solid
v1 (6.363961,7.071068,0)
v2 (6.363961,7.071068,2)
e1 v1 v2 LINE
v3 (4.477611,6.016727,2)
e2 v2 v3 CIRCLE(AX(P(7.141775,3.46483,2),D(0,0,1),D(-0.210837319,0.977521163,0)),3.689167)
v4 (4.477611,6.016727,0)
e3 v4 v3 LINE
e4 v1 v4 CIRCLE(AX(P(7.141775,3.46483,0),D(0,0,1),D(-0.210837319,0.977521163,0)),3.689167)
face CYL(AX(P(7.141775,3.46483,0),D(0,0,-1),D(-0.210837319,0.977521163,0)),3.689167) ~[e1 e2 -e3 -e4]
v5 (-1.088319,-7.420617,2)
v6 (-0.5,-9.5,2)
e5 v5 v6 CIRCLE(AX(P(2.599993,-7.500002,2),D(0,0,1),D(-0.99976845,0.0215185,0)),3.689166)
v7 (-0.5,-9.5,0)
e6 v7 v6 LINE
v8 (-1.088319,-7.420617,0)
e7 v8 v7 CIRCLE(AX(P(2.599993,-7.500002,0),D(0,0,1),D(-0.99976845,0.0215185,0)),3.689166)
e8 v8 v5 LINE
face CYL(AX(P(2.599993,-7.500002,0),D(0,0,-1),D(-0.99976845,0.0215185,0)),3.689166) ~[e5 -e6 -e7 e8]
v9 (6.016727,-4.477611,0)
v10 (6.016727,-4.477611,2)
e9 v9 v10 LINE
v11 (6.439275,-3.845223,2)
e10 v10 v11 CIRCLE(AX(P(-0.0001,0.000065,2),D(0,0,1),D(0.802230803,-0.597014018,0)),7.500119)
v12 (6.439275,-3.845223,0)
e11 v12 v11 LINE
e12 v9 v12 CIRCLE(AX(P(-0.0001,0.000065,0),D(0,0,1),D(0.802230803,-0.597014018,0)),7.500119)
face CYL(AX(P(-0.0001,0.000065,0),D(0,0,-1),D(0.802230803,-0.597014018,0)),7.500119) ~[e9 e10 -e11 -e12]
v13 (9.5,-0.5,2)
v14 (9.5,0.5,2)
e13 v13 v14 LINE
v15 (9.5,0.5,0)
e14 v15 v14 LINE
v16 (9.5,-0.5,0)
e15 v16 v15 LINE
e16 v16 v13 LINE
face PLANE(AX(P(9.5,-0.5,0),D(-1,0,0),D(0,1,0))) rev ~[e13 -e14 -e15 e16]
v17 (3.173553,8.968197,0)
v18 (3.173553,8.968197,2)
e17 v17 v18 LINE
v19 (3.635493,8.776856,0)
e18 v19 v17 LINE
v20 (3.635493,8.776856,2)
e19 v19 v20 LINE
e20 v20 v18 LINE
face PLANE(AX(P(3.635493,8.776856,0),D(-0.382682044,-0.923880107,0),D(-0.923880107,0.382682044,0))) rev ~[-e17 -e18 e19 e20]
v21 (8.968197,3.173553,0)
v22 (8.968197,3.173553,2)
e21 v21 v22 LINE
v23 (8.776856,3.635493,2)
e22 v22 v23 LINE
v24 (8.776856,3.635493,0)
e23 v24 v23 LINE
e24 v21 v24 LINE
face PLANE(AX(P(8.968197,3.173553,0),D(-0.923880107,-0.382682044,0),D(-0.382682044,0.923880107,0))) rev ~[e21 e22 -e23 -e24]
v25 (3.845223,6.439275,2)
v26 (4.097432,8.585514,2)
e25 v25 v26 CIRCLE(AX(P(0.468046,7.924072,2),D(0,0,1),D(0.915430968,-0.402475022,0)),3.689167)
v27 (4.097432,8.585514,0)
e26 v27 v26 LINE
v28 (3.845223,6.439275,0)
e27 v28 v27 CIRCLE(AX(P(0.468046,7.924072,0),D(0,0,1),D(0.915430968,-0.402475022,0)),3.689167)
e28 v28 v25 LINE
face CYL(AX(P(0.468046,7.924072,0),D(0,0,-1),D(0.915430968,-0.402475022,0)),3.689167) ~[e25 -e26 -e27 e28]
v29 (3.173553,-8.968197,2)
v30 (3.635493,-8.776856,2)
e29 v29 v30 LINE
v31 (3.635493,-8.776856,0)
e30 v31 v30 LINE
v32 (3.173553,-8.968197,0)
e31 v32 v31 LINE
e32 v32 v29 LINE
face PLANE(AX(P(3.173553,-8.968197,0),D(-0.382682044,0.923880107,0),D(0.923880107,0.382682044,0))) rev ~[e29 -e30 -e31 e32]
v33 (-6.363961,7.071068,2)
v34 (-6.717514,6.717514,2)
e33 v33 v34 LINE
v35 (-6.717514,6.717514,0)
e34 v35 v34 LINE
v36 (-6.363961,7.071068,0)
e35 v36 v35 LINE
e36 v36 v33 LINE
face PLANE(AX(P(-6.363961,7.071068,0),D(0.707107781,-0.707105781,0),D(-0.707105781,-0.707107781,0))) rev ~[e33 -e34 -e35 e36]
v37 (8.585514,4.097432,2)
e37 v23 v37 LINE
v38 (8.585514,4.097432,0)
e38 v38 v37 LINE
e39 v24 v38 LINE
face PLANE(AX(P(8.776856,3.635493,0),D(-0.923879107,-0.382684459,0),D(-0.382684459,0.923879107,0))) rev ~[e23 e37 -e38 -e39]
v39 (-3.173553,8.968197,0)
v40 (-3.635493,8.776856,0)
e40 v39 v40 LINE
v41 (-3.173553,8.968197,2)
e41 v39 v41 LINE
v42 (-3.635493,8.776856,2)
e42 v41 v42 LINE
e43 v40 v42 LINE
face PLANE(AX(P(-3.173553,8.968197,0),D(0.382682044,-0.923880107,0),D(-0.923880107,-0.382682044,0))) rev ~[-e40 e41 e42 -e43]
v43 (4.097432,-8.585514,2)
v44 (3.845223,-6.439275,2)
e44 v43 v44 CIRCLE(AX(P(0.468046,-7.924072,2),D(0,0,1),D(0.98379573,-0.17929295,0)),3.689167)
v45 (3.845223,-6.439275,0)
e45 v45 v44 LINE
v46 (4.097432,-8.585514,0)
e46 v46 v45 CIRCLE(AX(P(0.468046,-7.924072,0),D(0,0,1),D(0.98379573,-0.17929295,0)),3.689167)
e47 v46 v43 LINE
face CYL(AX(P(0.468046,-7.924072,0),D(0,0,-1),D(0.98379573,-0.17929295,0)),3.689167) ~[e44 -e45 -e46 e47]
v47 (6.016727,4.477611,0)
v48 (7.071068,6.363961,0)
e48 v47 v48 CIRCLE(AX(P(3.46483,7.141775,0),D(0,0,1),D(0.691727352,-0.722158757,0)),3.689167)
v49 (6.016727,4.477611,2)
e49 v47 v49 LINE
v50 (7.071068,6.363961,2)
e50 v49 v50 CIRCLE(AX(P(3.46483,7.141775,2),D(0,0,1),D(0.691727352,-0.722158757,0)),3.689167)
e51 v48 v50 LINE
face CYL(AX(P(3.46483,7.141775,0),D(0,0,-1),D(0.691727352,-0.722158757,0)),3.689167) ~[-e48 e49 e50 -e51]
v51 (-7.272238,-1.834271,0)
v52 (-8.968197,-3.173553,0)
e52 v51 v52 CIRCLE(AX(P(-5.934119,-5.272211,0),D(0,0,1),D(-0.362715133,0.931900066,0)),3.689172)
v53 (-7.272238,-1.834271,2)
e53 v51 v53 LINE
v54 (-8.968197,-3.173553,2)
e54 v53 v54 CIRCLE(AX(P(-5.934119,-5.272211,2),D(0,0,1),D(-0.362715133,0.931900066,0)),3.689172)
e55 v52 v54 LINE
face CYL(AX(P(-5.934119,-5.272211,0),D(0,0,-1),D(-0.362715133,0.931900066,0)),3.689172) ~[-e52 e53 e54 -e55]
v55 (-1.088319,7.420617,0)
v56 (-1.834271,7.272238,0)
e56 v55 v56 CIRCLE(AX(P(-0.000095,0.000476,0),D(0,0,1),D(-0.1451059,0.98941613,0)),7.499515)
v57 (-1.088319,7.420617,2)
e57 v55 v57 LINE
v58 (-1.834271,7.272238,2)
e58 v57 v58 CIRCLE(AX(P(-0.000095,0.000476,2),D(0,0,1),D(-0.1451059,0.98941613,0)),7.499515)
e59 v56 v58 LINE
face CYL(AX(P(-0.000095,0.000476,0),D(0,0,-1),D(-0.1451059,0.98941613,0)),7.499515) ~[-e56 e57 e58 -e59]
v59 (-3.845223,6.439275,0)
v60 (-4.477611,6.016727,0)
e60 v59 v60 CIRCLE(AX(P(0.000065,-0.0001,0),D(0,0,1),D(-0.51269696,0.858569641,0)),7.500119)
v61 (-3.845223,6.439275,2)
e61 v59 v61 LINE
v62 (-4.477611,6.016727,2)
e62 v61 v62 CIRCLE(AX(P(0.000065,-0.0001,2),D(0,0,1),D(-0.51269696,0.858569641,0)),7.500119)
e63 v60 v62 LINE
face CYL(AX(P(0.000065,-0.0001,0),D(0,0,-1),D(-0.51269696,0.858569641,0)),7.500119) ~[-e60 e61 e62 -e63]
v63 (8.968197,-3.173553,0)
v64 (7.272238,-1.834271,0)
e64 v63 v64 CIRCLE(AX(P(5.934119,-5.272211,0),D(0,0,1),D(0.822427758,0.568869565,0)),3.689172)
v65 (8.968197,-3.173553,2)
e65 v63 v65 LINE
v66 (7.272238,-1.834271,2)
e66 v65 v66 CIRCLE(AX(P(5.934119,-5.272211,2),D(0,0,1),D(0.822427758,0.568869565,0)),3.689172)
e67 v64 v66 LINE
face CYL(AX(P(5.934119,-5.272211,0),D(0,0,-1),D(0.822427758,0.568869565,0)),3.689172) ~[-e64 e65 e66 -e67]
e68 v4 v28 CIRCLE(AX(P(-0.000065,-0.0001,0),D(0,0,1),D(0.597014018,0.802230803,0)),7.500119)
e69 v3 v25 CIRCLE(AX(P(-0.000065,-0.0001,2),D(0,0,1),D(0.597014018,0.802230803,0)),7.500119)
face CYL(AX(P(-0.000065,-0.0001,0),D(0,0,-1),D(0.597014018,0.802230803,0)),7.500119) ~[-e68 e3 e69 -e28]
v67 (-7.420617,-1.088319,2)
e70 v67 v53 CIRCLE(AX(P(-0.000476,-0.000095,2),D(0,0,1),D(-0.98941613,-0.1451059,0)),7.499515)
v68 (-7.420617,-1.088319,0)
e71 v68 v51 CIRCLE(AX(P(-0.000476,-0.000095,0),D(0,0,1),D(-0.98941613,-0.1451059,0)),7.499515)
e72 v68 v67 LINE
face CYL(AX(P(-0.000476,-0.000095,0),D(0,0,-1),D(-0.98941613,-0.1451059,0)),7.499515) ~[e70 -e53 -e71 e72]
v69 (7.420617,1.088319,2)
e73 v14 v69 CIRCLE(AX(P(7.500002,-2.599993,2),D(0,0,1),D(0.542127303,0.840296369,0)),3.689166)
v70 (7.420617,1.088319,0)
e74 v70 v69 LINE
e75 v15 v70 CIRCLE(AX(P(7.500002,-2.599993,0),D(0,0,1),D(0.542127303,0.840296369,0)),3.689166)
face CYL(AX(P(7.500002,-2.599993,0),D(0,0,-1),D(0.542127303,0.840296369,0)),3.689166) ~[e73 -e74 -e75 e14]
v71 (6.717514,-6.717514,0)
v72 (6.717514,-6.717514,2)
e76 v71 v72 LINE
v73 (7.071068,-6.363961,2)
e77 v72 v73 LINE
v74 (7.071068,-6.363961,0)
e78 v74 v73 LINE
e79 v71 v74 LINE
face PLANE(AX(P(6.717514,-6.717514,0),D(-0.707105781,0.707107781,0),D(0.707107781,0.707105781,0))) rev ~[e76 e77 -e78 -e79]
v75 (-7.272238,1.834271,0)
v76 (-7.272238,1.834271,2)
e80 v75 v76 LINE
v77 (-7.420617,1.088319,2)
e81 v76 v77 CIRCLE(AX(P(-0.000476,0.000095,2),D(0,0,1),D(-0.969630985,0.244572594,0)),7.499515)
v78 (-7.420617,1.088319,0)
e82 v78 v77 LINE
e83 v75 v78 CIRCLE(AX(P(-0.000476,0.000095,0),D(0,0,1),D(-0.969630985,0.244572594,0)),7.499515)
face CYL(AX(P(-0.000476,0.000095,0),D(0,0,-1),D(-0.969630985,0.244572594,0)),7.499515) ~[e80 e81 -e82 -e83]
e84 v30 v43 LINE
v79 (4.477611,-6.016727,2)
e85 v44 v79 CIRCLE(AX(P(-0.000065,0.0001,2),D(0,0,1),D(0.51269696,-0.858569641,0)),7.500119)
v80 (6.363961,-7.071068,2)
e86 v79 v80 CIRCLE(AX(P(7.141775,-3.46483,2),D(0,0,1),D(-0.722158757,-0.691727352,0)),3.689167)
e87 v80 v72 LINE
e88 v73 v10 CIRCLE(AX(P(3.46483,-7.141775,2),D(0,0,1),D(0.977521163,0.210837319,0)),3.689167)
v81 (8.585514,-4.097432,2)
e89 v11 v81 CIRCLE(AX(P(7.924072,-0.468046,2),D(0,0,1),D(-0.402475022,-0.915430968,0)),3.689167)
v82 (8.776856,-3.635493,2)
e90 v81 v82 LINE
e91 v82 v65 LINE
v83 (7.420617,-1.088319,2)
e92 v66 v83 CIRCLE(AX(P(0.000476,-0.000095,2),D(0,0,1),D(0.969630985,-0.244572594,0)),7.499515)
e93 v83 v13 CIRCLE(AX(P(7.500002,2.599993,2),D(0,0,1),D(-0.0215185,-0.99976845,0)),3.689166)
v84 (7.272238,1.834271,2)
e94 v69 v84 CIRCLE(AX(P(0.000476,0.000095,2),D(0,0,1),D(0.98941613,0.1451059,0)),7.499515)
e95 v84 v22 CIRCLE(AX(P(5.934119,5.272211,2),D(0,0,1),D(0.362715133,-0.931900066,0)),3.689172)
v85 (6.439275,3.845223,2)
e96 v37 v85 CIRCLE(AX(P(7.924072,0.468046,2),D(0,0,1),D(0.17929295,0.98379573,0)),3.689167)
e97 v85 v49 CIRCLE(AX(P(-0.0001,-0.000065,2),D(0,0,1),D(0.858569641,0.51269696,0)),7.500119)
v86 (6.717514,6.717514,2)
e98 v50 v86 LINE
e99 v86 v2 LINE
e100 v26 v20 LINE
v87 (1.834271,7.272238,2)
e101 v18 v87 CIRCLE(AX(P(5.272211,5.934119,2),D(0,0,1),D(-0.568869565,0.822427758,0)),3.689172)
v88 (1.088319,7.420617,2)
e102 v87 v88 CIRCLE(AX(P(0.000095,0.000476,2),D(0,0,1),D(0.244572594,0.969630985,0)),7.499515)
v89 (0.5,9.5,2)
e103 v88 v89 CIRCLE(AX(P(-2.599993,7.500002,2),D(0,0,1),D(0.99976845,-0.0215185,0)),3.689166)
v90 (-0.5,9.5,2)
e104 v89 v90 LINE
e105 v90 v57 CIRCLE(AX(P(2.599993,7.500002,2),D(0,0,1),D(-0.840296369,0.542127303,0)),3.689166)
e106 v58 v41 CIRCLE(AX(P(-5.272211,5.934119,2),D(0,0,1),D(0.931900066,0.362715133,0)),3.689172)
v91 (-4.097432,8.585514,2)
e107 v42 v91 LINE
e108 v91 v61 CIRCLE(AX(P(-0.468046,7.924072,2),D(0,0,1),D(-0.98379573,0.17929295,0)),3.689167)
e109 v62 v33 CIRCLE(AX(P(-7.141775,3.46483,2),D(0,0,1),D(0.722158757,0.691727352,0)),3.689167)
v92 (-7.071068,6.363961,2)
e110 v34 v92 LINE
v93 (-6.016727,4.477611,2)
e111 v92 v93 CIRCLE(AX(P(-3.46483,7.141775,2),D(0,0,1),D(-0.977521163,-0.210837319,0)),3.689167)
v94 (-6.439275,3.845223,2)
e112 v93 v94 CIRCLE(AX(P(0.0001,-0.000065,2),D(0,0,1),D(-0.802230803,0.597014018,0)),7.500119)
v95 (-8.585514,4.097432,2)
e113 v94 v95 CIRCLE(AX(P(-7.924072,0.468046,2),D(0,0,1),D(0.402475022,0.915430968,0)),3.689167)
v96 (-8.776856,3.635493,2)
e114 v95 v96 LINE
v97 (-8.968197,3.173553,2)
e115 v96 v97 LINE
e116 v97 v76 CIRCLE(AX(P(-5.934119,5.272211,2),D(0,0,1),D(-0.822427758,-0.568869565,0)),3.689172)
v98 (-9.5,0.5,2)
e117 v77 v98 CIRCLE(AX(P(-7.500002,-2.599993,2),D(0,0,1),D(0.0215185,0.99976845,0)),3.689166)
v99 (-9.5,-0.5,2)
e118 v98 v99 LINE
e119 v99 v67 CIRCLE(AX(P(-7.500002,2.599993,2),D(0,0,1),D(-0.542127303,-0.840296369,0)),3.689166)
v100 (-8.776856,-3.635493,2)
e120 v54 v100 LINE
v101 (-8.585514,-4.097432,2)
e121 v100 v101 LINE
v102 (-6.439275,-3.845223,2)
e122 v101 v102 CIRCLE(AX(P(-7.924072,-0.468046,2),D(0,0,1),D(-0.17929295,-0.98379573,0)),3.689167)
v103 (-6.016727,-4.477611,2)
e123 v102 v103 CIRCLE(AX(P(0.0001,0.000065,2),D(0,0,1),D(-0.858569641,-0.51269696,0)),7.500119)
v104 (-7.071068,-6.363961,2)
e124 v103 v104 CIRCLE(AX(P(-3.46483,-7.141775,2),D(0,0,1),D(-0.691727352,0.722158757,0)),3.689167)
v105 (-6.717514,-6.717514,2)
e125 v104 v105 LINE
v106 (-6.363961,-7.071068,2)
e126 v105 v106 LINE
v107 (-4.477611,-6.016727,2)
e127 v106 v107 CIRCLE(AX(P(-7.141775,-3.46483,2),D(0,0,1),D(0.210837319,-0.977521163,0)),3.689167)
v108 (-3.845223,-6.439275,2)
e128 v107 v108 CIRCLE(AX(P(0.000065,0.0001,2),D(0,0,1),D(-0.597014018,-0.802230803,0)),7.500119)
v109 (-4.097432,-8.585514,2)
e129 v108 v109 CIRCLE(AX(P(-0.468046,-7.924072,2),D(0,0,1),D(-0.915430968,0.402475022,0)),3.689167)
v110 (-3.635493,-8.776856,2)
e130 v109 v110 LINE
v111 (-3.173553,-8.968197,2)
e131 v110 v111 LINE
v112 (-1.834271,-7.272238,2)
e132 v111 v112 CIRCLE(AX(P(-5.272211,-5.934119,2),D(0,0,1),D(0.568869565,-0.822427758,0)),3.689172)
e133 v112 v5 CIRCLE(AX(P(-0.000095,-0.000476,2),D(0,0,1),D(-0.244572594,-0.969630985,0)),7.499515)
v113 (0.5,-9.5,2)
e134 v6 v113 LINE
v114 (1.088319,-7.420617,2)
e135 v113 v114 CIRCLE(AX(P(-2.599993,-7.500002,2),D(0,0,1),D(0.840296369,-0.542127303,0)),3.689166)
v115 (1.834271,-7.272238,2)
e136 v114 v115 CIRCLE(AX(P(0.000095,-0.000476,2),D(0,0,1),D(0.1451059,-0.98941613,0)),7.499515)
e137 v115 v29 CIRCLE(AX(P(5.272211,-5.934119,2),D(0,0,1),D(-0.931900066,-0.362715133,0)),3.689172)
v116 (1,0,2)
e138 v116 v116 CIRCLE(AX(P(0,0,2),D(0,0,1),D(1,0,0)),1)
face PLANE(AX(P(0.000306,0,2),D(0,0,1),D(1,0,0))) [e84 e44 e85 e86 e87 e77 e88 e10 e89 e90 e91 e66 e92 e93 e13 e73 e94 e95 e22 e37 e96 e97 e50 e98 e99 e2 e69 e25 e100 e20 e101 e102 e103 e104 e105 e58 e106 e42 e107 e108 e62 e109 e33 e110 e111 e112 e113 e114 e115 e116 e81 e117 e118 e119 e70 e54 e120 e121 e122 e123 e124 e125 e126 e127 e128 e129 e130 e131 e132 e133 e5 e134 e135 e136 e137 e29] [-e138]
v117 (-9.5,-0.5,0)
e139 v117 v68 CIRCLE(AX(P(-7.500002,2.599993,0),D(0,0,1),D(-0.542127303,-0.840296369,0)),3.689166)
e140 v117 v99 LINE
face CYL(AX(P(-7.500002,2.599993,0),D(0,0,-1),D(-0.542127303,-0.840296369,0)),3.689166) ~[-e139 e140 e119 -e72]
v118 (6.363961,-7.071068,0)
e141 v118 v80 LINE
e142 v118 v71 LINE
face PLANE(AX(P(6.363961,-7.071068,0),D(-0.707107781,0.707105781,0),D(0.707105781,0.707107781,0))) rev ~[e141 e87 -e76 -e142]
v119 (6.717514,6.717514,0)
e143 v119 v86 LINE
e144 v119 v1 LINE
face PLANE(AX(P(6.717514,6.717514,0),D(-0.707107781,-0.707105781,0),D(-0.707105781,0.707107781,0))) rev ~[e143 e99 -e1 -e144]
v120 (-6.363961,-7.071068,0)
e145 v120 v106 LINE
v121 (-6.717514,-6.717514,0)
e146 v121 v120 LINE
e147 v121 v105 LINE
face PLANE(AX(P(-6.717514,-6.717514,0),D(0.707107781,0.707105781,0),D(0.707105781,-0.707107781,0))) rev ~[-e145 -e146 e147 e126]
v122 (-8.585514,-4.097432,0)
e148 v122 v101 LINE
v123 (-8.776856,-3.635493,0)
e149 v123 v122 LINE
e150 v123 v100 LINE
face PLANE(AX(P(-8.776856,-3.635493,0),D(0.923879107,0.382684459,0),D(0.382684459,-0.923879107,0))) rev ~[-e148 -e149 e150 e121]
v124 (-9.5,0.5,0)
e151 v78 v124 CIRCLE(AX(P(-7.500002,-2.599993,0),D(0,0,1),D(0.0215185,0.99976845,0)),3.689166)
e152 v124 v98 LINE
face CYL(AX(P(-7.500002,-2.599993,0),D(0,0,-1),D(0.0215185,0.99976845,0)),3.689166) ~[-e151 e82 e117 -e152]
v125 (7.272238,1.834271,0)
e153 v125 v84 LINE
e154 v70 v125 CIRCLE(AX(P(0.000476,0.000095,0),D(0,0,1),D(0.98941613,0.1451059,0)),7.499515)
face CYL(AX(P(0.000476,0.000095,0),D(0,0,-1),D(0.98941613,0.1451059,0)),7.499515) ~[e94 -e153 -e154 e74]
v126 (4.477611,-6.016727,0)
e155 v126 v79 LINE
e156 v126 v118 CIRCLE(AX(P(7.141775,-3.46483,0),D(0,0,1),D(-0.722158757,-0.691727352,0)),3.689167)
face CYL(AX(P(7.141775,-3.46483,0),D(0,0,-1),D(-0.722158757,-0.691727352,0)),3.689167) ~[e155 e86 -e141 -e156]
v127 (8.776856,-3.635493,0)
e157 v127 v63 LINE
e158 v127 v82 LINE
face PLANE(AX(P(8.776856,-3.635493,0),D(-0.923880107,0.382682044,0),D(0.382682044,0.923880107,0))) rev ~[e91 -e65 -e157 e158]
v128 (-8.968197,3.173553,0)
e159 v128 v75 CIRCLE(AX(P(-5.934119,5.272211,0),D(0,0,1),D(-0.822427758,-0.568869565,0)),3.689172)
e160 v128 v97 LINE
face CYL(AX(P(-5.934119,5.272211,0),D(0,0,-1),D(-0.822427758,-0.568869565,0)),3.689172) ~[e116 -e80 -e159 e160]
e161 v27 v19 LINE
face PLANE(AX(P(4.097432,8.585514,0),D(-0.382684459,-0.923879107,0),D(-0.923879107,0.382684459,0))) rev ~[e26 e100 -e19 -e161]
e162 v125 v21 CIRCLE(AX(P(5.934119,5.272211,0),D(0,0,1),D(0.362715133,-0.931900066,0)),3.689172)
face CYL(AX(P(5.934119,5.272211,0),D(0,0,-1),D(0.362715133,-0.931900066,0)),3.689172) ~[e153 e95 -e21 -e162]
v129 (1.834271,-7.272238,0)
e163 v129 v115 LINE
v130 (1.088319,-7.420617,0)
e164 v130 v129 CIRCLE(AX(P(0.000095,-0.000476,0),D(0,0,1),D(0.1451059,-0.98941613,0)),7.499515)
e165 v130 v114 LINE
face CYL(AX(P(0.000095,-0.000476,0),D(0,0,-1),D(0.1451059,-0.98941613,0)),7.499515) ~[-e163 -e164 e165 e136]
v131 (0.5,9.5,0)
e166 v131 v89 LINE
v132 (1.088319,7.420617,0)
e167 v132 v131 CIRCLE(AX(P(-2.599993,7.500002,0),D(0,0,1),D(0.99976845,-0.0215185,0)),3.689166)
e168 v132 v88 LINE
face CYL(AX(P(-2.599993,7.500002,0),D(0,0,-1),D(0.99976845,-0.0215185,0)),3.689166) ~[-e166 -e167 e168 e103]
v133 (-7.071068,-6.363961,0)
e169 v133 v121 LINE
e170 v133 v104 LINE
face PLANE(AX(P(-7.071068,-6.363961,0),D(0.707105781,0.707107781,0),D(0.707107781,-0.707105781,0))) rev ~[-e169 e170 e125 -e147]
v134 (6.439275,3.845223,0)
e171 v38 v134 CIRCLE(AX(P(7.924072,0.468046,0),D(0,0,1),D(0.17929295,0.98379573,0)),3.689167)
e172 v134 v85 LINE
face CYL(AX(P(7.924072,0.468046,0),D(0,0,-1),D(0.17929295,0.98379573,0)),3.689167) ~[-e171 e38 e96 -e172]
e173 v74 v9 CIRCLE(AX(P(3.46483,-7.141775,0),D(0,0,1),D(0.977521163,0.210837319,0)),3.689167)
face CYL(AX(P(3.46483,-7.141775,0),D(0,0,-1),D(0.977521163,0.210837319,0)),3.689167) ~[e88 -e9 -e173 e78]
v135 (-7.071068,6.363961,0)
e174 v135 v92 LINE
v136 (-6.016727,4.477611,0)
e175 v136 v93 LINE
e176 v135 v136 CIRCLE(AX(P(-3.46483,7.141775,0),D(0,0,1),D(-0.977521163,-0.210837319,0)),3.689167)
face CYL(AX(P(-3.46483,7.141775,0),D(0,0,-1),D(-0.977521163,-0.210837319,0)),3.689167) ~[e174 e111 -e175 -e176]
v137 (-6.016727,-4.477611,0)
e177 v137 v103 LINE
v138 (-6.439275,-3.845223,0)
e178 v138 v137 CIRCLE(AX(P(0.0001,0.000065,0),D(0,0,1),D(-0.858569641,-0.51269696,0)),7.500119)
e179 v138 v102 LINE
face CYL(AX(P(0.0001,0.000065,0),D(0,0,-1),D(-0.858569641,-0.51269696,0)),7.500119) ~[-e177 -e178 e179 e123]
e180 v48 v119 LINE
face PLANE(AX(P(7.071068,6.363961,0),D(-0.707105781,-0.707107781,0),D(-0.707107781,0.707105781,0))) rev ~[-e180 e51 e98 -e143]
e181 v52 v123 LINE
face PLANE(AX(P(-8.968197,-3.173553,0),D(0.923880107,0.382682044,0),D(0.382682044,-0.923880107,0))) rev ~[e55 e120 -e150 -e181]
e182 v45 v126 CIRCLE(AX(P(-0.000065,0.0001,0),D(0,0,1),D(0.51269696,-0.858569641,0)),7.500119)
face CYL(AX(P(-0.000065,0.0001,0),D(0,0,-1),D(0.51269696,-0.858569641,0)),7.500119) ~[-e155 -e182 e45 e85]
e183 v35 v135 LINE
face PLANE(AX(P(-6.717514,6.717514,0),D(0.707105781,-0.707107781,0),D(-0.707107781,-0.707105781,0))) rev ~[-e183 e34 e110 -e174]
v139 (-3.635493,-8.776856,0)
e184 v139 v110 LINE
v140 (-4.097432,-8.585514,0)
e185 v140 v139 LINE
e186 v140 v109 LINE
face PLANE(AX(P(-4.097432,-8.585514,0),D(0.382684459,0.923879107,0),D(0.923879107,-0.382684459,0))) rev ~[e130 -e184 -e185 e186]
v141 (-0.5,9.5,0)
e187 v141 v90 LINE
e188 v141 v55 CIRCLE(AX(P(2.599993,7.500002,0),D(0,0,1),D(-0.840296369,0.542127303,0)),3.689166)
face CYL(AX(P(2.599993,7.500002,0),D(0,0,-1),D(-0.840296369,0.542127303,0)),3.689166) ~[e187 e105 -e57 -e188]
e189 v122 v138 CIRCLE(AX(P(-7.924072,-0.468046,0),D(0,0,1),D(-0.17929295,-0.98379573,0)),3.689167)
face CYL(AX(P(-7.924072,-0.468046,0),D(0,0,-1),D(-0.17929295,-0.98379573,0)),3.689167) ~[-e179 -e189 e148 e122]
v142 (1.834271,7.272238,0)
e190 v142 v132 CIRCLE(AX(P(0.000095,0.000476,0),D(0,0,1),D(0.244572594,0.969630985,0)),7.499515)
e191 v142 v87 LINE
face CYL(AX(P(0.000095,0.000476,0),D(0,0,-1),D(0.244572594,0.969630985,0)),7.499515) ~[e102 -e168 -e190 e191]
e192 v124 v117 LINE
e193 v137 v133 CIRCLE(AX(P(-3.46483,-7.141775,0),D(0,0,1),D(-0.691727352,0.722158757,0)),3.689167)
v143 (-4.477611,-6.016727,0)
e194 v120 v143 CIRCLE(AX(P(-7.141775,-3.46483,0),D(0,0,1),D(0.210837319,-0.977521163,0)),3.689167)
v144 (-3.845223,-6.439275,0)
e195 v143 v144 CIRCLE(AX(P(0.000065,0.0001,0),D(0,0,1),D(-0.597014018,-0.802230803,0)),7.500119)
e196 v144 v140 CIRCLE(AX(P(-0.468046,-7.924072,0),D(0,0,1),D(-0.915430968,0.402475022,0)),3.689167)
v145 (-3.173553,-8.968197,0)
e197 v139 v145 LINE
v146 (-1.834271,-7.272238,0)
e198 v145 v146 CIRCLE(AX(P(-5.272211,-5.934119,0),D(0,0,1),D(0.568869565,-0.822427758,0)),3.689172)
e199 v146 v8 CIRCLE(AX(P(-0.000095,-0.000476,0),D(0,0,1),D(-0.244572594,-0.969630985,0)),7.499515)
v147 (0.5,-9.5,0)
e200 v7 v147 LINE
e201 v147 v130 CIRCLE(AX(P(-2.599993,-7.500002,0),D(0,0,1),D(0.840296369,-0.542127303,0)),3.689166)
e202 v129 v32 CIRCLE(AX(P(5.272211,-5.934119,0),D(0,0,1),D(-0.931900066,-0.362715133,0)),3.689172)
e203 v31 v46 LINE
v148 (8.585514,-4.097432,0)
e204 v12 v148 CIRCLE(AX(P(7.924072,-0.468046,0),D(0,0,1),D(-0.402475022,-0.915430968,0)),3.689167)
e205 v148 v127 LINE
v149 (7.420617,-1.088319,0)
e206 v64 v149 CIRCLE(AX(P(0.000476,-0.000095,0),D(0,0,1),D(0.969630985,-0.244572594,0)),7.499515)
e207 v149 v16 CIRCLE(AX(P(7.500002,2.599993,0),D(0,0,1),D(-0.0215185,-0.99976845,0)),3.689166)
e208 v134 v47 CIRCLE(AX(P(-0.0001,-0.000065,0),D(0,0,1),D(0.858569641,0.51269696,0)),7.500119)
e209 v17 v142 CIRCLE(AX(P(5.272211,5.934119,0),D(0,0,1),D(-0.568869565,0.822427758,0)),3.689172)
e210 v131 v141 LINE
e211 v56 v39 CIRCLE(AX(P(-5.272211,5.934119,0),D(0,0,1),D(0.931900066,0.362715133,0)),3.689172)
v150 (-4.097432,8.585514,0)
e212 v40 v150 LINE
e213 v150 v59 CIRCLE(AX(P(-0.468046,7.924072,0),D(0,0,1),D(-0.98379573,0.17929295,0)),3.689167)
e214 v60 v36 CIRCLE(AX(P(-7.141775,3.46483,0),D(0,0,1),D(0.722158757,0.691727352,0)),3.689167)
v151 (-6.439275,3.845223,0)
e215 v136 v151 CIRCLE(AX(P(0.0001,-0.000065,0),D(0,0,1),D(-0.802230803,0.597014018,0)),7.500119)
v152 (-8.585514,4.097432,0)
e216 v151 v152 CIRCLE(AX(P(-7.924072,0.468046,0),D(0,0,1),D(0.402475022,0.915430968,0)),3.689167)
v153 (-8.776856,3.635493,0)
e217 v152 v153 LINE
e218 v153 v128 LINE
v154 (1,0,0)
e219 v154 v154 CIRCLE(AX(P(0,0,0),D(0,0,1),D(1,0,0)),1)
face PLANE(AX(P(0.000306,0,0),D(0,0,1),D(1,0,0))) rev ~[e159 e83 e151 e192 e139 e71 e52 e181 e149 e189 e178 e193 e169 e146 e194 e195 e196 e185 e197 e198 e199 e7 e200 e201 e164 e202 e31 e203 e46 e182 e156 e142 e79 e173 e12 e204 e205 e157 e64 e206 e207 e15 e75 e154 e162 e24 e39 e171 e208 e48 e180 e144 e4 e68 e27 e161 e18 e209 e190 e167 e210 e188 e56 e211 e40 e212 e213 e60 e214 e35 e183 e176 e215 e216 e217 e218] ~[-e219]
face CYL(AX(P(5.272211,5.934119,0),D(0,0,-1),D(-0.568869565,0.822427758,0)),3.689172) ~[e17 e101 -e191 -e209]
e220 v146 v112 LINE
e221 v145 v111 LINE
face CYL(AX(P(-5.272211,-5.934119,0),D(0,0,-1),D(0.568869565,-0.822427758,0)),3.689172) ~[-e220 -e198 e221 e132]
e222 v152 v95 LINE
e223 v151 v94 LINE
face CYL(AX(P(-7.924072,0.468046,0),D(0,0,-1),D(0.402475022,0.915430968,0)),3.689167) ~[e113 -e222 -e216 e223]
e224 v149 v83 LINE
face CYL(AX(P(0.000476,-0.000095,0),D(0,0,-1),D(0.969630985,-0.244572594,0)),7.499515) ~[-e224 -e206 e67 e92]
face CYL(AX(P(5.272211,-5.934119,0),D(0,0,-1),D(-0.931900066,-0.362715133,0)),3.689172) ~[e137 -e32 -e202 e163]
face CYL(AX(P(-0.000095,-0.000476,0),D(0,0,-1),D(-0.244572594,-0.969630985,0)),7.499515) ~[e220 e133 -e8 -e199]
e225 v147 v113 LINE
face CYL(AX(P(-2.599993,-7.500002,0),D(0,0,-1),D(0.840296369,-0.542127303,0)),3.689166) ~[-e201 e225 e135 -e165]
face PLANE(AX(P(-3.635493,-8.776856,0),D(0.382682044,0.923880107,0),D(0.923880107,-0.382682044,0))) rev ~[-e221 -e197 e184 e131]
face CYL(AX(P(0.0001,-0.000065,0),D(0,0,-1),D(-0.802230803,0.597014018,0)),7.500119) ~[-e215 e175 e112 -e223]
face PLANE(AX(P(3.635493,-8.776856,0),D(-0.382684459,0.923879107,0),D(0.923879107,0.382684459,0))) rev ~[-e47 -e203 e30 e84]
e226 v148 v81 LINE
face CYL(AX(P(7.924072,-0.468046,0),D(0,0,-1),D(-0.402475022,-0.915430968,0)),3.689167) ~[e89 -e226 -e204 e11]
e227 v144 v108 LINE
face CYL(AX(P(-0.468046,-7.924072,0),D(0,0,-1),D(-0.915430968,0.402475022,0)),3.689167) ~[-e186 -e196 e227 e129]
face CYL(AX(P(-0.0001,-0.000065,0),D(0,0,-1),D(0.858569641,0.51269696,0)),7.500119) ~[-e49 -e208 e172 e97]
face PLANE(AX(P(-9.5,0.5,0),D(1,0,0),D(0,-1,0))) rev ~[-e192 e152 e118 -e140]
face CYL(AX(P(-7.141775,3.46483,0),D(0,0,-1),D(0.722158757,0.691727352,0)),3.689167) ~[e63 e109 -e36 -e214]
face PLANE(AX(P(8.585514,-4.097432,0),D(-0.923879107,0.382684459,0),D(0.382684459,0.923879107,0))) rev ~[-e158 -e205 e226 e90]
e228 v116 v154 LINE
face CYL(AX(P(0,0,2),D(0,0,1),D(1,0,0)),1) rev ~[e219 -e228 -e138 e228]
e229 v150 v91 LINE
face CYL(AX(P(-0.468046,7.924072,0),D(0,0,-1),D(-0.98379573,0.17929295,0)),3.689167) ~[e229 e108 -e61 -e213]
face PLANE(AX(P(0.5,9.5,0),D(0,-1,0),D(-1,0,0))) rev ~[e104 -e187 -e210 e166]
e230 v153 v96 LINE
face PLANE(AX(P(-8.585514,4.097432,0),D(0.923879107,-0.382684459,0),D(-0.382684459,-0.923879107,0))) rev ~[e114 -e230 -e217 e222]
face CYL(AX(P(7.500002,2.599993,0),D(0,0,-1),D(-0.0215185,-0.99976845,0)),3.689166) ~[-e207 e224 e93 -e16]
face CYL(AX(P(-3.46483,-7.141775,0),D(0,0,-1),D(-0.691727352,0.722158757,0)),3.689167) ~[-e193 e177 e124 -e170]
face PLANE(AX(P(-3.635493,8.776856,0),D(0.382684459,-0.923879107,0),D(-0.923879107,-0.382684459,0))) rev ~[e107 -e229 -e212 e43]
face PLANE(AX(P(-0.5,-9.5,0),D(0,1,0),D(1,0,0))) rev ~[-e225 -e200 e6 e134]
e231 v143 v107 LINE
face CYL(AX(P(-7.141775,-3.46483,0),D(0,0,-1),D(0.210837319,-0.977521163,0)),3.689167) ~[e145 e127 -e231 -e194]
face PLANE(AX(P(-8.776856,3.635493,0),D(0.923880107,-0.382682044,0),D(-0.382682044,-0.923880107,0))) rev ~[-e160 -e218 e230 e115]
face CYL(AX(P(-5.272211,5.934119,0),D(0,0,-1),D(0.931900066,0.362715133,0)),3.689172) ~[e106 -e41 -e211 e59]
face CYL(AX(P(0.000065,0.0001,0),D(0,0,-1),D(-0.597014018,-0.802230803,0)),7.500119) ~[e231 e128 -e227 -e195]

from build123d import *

# Parameters (mm, degrees)
F1_DEPTH = 2
F2_R     = 1
F3_DEPTH = 25


with BuildPart() as f1:
    # F0 (on Top) → F1 (new body)
    with BuildSketch(Plane.XY):
        with BuildLine():
            ThreePointArc((7.420617, -1.088319), (7.480128, -0.545605), (7.5, 0))
            ThreePointArc((7.5, 0), (7.480128, 0.545605), (7.420617, 1.088319))
            ThreePointArc((7.420617, 1.088319), (7.35589, 1.463177), (7.272238, 1.834271))
            ThreePointArc((7.272238, 1.834271), (6.929096, 2.870126), (6.439275, 3.845223))
            ThreePointArc((6.439275, 3.845223), (6.236022, 4.166777), (6.016727, 4.477611))
            ThreePointArc((6.016727, 4.477611), (5.303301, 5.303301), (4.477611, 6.016727))
            ThreePointArc((4.477611, 6.016727), (4.166777, 6.236022), (3.845223, 6.439275))
            ThreePointArc((3.845223, 6.439275), (2.870126, 6.929096), (1.834271, 7.272238))
            ThreePointArc((1.834271, 7.272238), (1.463177, 7.35589), (1.088319, 7.420617))
            ThreePointArc((1.088319, 7.420617), (0, 7.5), (-1.088319, 7.420617))
            ThreePointArc((-1.088319, 7.420617), (-1.463177, 7.35589), (-1.834271, 7.272238))
            ThreePointArc((-1.834271, 7.272238), (-2.870126, 6.929096), (-3.845223, 6.439275))
            ThreePointArc((-3.845223, 6.439275), (-4.166777, 6.236022), (-4.477611, 6.016727))
            ThreePointArc((-4.477611, 6.016727), (-5.303301, 5.303301), (-6.016727, 4.477611))
            ThreePointArc((-6.016727, 4.477611), (-6.236022, 4.166777), (-6.439275, 3.845223))
            ThreePointArc((-6.439275, 3.845223), (-6.929096, 2.870126), (-7.272238, 1.834271))
            ThreePointArc((-7.272238, 1.834271), (-7.35589, 1.463177), (-7.420617, 1.088319))
            ThreePointArc((-7.420617, 1.088319), (-7.5, 0), (-7.420617, -1.088319))
            ThreePointArc((-7.420617, -1.088319), (-7.35589, -1.463177), (-7.272238, -1.834271))
            ThreePointArc((-7.272238, -1.834271), (-6.929096, -2.870126), (-6.439275, -3.845223))
            ThreePointArc((-6.439275, -3.845223), (-6.236022, -4.166777), (-6.016727, -4.477611))
            ThreePointArc((-6.016727, -4.477611), (-5.303301, -5.303301), (-4.477611, -6.016727))
            ThreePointArc((-4.477611, -6.016727), (-4.166777, -6.236022), (-3.845223, -6.439275))
            ThreePointArc((-3.845223, -6.439275), (-2.870126, -6.929096), (-1.834271, -7.272238))
            ThreePointArc((-1.834271, -7.272238), (-1.463177, -7.35589), (-1.088319, -7.420617))
            ThreePointArc((-1.088319, -7.420617), (0, -7.5), (1.088319, -7.420617))
            ThreePointArc((1.088319, -7.420617), (1.463177, -7.35589), (1.834271, -7.272238))
            ThreePointArc((1.834271, -7.272238), (2.870126, -6.929096), (3.845223, -6.439275))
            ThreePointArc((3.845223, -6.439275), (4.166777, -6.236022), (4.477611, -6.016727))
            ThreePointArc((4.477611, -6.016727), (5.303301, -5.303301), (6.016727, -4.477611))
            ThreePointArc((6.016727, -4.477611), (6.236022, -4.166777), (6.439275, -3.845223))
            ThreePointArc((6.439275, -3.845223), (6.929096, -2.870126), (7.272238, -1.834271))
            ThreePointArc((7.272238, -1.834271), (7.35589, -1.463177), (7.420617, -1.088319))
        make_face()
        with BuildLine():
            ThreePointArc((7.420617, 1.088319), (7.480128, 0.545605), (7.5, 0))
            ThreePointArc((7.5, 0), (7.480128, -0.545605), (7.420617, -1.088319))
            ThreePointArc((7.420617, -1.088319), (8.504352, -0.949828), (9.5, -0.5))
            Line((9.5, -0.5), (9.5, 0))
            Line((9.5, 0), (9.5, 0.5))
            ThreePointArc((9.5, 0.5), (8.504352, 0.949828), (7.420617, 1.088319))
        make_face()
        with BuildLine():
            ThreePointArc((6.439275, 3.845223), (6.929096, 2.870126), (7.272238, 1.834271))
            ThreePointArc((7.272238, 1.834271), (8.22048, 2.376948), (8.968197, 3.173553))
            Line((8.968197, 3.173553), (8.776856, 3.635493))
            Line((8.776856, 3.635493), (8.585514, 4.097432))
            ThreePointArc((8.585514, 4.097432), (7.493513, 4.132001), (6.439275, 3.845223))
        make_face()
        with BuildLine():
            ThreePointArc((8.968197, -3.173553), (8.22048, -2.376948), (7.272238, -1.834271))
            ThreePointArc((7.272238, -1.834271), (6.929096, -2.870126), (6.439275, -3.845223))
            ThreePointArc((6.439275, -3.845223), (7.493513, -4.132001), (8.585514, -4.097432))
            Line((8.585514, -4.097432), (8.776856, -3.635493))
            Line((8.776856, -3.635493), (8.968197, -3.173553))
        make_face()
        with BuildLine():
            ThreePointArc((4.477611, 6.016727), (5.303301, 5.303301), (6.016727, 4.477611))
            ThreePointArc((6.016727, 4.477611), (6.685115, 5.341855), (7.071068, 6.363961))
            Line((7.071068, 6.363961), (6.717514, 6.717514))
            Line((6.717514, 6.717514), (6.363961, 7.071068))
            ThreePointArc((6.363961, 7.071068), (5.341855, 6.685115), (4.477611, 6.016727))
        make_face()
        with BuildLine():
            ThreePointArc((7.071068, -6.363961), (6.685115, -5.341855), (6.016727, -4.477611))
            ThreePointArc((6.016727, -4.477611), (5.303301, -5.303301), (4.477611, -6.016727))
            ThreePointArc((4.477611, -6.016727), (5.341855, -6.685115), (6.363961, -7.071068))
            Line((6.363961, -7.071068), (6.717514, -6.717514))
            Line((6.717514, -6.717514), (7.071068, -6.363961))
        make_face()
        with BuildLine():
            ThreePointArc((1.834271, 7.272238), (2.870126, 6.929096), (3.845223, 6.439275))
            ThreePointArc((3.845223, 6.439275), (4.132001, 7.493513), (4.097432, 8.585514))
            Line((4.097432, 8.585514), (3.635493, 8.776856))
            Line((3.635493, 8.776856), (3.173553, 8.968197))
            ThreePointArc((3.173553, 8.968197), (2.376948, 8.22048), (1.834271, 7.272238))
        make_face()
        with BuildLine():
            ThreePointArc((4.097432, -8.585514), (4.132001, -7.493513), (3.845223, -6.439275))
            ThreePointArc((3.845223, -6.439275), (2.870126, -6.929096), (1.834271, -7.272238))
            ThreePointArc((1.834271, -7.272238), (2.376948, -8.22048), (3.173553, -8.968197))
            Line((3.173553, -8.968197), (3.635493, -8.776856))
            Line((3.635493, -8.776856), (4.097432, -8.585514))
        make_face()
        with BuildLine():
            ThreePointArc((-1.088319, 7.420617), (0, 7.5), (1.088319, 7.420617))
            ThreePointArc((1.088319, 7.420617), (0.949828, 8.504352), (0.5, 9.5))
            Line((0.5, 9.5), (0, 9.5))
            Line((0, 9.5), (-0.5, 9.5))
            ThreePointArc((-0.5, 9.5), (-0.949828, 8.504352), (-1.088319, 7.420617))
        make_face()
        with BuildLine():
            ThreePointArc((0.5, -9.5), (0.949828, -8.504352), (1.088319, -7.420617))
            ThreePointArc((1.088319, -7.420617), (0, -7.5), (-1.088319, -7.420617))
            ThreePointArc((-1.088319, -7.420617), (-0.949828, -8.504352), (-0.5, -9.5))
            Line((-0.5, -9.5), (0, -9.5))
            Line((0, -9.5), (0.5, -9.5))
        make_face()
        with BuildLine():
            ThreePointArc((-3.845223, 6.439275), (-2.870126, 6.929096), (-1.834271, 7.272238))
            ThreePointArc((-1.834271, 7.272238), (-2.376948, 8.22048), (-3.173553, 8.968197))
            Line((-3.173553, 8.968197), (-3.635493, 8.776856))
            Line((-3.635493, 8.776856), (-4.097432, 8.585514))
            ThreePointArc((-4.097432, 8.585514), (-4.132001, 7.493513), (-3.845223, 6.439275))
        make_face()
        with BuildLine():
            ThreePointArc((-3.173553, -8.968197), (-2.376948, -8.22048), (-1.834271, -7.272238))
            ThreePointArc((-1.834271, -7.272238), (-2.870126, -6.929096), (-3.845223, -6.439275))
            ThreePointArc((-3.845223, -6.439275), (-4.132001, -7.493513), (-4.097432, -8.585514))
            Line((-4.097432, -8.585514), (-3.635493, -8.776856))
            Line((-3.635493, -8.776856), (-3.173553, -8.968197))
        make_face()
        with BuildLine():
            ThreePointArc((-6.016727, 4.477611), (-5.303301, 5.303301), (-4.477611, 6.016727))
            ThreePointArc((-4.477611, 6.016727), (-5.341855, 6.685115), (-6.363961, 7.071068))
            Line((-6.363961, 7.071068), (-6.717514, 6.717514))
            Line((-6.717514, 6.717514), (-7.071068, 6.363961))
            ThreePointArc((-7.071068, 6.363961), (-6.685115, 5.341855), (-6.016727, 4.477611))
        make_face()
        with BuildLine():
            ThreePointArc((-6.363961, -7.071068), (-5.341855, -6.685115), (-4.477611, -6.016727))
            ThreePointArc((-4.477611, -6.016727), (-5.303301, -5.303301), (-6.016727, -4.477611))
            ThreePointArc((-6.016727, -4.477611), (-6.685115, -5.341855), (-7.071068, -6.363961))
            Line((-7.071068, -6.363961), (-6.717514, -6.717514))
            Line((-6.717514, -6.717514), (-6.363961, -7.071068))
        make_face()
        with BuildLine():
            ThreePointArc((-7.272238, 1.834271), (-6.929096, 2.870126), (-6.439275, 3.845223))
            ThreePointArc((-6.439275, 3.845223), (-7.493513, 4.132001), (-8.585514, 4.097432))
            Line((-8.585514, 4.097432), (-8.776856, 3.635493))
            Line((-8.776856, 3.635493), (-8.968197, 3.173553))
            ThreePointArc((-8.968197, 3.173553), (-8.22048, 2.376948), (-7.272238, 1.834271))
        make_face()
        with BuildLine():
            ThreePointArc((-8.585514, -4.097432), (-7.493513, -4.132001), (-6.439275, -3.845223))
            ThreePointArc((-6.439275, -3.845223), (-6.929096, -2.870126), (-7.272238, -1.834271))
            ThreePointArc((-7.272238, -1.834271), (-8.22048, -2.376948), (-8.968197, -3.173553))
            Line((-8.968197, -3.173553), (-8.776856, -3.635493))
            Line((-8.776856, -3.635493), (-8.585514, -4.097432))
        make_face()
        with BuildLine():
            ThreePointArc((-7.420617, -1.088319), (-7.5, 0), (-7.420617, 1.088319))
            ThreePointArc((-7.420617, 1.088319), (-8.504352, 0.949828), (-9.5, 0.5))
            Line((-9.5, 0.5), (-9.5, 0))
            Line((-9.5, 0), (-9.5, -0.5))
            ThreePointArc((-9.5, -0.5), (-8.504352, -0.949828), (-7.420617, -1.088319))
        make_face()
    extrude(amount=F1_DEPTH)

    # F2 (on face) → F3 (cut)
    with BuildSketch(Plane.XY.offset(2)):
        Circle(F2_R)
    extrude(amount=-F3_DEPTH, mode=Mode.SUBTRACT)


solid = f1.part
